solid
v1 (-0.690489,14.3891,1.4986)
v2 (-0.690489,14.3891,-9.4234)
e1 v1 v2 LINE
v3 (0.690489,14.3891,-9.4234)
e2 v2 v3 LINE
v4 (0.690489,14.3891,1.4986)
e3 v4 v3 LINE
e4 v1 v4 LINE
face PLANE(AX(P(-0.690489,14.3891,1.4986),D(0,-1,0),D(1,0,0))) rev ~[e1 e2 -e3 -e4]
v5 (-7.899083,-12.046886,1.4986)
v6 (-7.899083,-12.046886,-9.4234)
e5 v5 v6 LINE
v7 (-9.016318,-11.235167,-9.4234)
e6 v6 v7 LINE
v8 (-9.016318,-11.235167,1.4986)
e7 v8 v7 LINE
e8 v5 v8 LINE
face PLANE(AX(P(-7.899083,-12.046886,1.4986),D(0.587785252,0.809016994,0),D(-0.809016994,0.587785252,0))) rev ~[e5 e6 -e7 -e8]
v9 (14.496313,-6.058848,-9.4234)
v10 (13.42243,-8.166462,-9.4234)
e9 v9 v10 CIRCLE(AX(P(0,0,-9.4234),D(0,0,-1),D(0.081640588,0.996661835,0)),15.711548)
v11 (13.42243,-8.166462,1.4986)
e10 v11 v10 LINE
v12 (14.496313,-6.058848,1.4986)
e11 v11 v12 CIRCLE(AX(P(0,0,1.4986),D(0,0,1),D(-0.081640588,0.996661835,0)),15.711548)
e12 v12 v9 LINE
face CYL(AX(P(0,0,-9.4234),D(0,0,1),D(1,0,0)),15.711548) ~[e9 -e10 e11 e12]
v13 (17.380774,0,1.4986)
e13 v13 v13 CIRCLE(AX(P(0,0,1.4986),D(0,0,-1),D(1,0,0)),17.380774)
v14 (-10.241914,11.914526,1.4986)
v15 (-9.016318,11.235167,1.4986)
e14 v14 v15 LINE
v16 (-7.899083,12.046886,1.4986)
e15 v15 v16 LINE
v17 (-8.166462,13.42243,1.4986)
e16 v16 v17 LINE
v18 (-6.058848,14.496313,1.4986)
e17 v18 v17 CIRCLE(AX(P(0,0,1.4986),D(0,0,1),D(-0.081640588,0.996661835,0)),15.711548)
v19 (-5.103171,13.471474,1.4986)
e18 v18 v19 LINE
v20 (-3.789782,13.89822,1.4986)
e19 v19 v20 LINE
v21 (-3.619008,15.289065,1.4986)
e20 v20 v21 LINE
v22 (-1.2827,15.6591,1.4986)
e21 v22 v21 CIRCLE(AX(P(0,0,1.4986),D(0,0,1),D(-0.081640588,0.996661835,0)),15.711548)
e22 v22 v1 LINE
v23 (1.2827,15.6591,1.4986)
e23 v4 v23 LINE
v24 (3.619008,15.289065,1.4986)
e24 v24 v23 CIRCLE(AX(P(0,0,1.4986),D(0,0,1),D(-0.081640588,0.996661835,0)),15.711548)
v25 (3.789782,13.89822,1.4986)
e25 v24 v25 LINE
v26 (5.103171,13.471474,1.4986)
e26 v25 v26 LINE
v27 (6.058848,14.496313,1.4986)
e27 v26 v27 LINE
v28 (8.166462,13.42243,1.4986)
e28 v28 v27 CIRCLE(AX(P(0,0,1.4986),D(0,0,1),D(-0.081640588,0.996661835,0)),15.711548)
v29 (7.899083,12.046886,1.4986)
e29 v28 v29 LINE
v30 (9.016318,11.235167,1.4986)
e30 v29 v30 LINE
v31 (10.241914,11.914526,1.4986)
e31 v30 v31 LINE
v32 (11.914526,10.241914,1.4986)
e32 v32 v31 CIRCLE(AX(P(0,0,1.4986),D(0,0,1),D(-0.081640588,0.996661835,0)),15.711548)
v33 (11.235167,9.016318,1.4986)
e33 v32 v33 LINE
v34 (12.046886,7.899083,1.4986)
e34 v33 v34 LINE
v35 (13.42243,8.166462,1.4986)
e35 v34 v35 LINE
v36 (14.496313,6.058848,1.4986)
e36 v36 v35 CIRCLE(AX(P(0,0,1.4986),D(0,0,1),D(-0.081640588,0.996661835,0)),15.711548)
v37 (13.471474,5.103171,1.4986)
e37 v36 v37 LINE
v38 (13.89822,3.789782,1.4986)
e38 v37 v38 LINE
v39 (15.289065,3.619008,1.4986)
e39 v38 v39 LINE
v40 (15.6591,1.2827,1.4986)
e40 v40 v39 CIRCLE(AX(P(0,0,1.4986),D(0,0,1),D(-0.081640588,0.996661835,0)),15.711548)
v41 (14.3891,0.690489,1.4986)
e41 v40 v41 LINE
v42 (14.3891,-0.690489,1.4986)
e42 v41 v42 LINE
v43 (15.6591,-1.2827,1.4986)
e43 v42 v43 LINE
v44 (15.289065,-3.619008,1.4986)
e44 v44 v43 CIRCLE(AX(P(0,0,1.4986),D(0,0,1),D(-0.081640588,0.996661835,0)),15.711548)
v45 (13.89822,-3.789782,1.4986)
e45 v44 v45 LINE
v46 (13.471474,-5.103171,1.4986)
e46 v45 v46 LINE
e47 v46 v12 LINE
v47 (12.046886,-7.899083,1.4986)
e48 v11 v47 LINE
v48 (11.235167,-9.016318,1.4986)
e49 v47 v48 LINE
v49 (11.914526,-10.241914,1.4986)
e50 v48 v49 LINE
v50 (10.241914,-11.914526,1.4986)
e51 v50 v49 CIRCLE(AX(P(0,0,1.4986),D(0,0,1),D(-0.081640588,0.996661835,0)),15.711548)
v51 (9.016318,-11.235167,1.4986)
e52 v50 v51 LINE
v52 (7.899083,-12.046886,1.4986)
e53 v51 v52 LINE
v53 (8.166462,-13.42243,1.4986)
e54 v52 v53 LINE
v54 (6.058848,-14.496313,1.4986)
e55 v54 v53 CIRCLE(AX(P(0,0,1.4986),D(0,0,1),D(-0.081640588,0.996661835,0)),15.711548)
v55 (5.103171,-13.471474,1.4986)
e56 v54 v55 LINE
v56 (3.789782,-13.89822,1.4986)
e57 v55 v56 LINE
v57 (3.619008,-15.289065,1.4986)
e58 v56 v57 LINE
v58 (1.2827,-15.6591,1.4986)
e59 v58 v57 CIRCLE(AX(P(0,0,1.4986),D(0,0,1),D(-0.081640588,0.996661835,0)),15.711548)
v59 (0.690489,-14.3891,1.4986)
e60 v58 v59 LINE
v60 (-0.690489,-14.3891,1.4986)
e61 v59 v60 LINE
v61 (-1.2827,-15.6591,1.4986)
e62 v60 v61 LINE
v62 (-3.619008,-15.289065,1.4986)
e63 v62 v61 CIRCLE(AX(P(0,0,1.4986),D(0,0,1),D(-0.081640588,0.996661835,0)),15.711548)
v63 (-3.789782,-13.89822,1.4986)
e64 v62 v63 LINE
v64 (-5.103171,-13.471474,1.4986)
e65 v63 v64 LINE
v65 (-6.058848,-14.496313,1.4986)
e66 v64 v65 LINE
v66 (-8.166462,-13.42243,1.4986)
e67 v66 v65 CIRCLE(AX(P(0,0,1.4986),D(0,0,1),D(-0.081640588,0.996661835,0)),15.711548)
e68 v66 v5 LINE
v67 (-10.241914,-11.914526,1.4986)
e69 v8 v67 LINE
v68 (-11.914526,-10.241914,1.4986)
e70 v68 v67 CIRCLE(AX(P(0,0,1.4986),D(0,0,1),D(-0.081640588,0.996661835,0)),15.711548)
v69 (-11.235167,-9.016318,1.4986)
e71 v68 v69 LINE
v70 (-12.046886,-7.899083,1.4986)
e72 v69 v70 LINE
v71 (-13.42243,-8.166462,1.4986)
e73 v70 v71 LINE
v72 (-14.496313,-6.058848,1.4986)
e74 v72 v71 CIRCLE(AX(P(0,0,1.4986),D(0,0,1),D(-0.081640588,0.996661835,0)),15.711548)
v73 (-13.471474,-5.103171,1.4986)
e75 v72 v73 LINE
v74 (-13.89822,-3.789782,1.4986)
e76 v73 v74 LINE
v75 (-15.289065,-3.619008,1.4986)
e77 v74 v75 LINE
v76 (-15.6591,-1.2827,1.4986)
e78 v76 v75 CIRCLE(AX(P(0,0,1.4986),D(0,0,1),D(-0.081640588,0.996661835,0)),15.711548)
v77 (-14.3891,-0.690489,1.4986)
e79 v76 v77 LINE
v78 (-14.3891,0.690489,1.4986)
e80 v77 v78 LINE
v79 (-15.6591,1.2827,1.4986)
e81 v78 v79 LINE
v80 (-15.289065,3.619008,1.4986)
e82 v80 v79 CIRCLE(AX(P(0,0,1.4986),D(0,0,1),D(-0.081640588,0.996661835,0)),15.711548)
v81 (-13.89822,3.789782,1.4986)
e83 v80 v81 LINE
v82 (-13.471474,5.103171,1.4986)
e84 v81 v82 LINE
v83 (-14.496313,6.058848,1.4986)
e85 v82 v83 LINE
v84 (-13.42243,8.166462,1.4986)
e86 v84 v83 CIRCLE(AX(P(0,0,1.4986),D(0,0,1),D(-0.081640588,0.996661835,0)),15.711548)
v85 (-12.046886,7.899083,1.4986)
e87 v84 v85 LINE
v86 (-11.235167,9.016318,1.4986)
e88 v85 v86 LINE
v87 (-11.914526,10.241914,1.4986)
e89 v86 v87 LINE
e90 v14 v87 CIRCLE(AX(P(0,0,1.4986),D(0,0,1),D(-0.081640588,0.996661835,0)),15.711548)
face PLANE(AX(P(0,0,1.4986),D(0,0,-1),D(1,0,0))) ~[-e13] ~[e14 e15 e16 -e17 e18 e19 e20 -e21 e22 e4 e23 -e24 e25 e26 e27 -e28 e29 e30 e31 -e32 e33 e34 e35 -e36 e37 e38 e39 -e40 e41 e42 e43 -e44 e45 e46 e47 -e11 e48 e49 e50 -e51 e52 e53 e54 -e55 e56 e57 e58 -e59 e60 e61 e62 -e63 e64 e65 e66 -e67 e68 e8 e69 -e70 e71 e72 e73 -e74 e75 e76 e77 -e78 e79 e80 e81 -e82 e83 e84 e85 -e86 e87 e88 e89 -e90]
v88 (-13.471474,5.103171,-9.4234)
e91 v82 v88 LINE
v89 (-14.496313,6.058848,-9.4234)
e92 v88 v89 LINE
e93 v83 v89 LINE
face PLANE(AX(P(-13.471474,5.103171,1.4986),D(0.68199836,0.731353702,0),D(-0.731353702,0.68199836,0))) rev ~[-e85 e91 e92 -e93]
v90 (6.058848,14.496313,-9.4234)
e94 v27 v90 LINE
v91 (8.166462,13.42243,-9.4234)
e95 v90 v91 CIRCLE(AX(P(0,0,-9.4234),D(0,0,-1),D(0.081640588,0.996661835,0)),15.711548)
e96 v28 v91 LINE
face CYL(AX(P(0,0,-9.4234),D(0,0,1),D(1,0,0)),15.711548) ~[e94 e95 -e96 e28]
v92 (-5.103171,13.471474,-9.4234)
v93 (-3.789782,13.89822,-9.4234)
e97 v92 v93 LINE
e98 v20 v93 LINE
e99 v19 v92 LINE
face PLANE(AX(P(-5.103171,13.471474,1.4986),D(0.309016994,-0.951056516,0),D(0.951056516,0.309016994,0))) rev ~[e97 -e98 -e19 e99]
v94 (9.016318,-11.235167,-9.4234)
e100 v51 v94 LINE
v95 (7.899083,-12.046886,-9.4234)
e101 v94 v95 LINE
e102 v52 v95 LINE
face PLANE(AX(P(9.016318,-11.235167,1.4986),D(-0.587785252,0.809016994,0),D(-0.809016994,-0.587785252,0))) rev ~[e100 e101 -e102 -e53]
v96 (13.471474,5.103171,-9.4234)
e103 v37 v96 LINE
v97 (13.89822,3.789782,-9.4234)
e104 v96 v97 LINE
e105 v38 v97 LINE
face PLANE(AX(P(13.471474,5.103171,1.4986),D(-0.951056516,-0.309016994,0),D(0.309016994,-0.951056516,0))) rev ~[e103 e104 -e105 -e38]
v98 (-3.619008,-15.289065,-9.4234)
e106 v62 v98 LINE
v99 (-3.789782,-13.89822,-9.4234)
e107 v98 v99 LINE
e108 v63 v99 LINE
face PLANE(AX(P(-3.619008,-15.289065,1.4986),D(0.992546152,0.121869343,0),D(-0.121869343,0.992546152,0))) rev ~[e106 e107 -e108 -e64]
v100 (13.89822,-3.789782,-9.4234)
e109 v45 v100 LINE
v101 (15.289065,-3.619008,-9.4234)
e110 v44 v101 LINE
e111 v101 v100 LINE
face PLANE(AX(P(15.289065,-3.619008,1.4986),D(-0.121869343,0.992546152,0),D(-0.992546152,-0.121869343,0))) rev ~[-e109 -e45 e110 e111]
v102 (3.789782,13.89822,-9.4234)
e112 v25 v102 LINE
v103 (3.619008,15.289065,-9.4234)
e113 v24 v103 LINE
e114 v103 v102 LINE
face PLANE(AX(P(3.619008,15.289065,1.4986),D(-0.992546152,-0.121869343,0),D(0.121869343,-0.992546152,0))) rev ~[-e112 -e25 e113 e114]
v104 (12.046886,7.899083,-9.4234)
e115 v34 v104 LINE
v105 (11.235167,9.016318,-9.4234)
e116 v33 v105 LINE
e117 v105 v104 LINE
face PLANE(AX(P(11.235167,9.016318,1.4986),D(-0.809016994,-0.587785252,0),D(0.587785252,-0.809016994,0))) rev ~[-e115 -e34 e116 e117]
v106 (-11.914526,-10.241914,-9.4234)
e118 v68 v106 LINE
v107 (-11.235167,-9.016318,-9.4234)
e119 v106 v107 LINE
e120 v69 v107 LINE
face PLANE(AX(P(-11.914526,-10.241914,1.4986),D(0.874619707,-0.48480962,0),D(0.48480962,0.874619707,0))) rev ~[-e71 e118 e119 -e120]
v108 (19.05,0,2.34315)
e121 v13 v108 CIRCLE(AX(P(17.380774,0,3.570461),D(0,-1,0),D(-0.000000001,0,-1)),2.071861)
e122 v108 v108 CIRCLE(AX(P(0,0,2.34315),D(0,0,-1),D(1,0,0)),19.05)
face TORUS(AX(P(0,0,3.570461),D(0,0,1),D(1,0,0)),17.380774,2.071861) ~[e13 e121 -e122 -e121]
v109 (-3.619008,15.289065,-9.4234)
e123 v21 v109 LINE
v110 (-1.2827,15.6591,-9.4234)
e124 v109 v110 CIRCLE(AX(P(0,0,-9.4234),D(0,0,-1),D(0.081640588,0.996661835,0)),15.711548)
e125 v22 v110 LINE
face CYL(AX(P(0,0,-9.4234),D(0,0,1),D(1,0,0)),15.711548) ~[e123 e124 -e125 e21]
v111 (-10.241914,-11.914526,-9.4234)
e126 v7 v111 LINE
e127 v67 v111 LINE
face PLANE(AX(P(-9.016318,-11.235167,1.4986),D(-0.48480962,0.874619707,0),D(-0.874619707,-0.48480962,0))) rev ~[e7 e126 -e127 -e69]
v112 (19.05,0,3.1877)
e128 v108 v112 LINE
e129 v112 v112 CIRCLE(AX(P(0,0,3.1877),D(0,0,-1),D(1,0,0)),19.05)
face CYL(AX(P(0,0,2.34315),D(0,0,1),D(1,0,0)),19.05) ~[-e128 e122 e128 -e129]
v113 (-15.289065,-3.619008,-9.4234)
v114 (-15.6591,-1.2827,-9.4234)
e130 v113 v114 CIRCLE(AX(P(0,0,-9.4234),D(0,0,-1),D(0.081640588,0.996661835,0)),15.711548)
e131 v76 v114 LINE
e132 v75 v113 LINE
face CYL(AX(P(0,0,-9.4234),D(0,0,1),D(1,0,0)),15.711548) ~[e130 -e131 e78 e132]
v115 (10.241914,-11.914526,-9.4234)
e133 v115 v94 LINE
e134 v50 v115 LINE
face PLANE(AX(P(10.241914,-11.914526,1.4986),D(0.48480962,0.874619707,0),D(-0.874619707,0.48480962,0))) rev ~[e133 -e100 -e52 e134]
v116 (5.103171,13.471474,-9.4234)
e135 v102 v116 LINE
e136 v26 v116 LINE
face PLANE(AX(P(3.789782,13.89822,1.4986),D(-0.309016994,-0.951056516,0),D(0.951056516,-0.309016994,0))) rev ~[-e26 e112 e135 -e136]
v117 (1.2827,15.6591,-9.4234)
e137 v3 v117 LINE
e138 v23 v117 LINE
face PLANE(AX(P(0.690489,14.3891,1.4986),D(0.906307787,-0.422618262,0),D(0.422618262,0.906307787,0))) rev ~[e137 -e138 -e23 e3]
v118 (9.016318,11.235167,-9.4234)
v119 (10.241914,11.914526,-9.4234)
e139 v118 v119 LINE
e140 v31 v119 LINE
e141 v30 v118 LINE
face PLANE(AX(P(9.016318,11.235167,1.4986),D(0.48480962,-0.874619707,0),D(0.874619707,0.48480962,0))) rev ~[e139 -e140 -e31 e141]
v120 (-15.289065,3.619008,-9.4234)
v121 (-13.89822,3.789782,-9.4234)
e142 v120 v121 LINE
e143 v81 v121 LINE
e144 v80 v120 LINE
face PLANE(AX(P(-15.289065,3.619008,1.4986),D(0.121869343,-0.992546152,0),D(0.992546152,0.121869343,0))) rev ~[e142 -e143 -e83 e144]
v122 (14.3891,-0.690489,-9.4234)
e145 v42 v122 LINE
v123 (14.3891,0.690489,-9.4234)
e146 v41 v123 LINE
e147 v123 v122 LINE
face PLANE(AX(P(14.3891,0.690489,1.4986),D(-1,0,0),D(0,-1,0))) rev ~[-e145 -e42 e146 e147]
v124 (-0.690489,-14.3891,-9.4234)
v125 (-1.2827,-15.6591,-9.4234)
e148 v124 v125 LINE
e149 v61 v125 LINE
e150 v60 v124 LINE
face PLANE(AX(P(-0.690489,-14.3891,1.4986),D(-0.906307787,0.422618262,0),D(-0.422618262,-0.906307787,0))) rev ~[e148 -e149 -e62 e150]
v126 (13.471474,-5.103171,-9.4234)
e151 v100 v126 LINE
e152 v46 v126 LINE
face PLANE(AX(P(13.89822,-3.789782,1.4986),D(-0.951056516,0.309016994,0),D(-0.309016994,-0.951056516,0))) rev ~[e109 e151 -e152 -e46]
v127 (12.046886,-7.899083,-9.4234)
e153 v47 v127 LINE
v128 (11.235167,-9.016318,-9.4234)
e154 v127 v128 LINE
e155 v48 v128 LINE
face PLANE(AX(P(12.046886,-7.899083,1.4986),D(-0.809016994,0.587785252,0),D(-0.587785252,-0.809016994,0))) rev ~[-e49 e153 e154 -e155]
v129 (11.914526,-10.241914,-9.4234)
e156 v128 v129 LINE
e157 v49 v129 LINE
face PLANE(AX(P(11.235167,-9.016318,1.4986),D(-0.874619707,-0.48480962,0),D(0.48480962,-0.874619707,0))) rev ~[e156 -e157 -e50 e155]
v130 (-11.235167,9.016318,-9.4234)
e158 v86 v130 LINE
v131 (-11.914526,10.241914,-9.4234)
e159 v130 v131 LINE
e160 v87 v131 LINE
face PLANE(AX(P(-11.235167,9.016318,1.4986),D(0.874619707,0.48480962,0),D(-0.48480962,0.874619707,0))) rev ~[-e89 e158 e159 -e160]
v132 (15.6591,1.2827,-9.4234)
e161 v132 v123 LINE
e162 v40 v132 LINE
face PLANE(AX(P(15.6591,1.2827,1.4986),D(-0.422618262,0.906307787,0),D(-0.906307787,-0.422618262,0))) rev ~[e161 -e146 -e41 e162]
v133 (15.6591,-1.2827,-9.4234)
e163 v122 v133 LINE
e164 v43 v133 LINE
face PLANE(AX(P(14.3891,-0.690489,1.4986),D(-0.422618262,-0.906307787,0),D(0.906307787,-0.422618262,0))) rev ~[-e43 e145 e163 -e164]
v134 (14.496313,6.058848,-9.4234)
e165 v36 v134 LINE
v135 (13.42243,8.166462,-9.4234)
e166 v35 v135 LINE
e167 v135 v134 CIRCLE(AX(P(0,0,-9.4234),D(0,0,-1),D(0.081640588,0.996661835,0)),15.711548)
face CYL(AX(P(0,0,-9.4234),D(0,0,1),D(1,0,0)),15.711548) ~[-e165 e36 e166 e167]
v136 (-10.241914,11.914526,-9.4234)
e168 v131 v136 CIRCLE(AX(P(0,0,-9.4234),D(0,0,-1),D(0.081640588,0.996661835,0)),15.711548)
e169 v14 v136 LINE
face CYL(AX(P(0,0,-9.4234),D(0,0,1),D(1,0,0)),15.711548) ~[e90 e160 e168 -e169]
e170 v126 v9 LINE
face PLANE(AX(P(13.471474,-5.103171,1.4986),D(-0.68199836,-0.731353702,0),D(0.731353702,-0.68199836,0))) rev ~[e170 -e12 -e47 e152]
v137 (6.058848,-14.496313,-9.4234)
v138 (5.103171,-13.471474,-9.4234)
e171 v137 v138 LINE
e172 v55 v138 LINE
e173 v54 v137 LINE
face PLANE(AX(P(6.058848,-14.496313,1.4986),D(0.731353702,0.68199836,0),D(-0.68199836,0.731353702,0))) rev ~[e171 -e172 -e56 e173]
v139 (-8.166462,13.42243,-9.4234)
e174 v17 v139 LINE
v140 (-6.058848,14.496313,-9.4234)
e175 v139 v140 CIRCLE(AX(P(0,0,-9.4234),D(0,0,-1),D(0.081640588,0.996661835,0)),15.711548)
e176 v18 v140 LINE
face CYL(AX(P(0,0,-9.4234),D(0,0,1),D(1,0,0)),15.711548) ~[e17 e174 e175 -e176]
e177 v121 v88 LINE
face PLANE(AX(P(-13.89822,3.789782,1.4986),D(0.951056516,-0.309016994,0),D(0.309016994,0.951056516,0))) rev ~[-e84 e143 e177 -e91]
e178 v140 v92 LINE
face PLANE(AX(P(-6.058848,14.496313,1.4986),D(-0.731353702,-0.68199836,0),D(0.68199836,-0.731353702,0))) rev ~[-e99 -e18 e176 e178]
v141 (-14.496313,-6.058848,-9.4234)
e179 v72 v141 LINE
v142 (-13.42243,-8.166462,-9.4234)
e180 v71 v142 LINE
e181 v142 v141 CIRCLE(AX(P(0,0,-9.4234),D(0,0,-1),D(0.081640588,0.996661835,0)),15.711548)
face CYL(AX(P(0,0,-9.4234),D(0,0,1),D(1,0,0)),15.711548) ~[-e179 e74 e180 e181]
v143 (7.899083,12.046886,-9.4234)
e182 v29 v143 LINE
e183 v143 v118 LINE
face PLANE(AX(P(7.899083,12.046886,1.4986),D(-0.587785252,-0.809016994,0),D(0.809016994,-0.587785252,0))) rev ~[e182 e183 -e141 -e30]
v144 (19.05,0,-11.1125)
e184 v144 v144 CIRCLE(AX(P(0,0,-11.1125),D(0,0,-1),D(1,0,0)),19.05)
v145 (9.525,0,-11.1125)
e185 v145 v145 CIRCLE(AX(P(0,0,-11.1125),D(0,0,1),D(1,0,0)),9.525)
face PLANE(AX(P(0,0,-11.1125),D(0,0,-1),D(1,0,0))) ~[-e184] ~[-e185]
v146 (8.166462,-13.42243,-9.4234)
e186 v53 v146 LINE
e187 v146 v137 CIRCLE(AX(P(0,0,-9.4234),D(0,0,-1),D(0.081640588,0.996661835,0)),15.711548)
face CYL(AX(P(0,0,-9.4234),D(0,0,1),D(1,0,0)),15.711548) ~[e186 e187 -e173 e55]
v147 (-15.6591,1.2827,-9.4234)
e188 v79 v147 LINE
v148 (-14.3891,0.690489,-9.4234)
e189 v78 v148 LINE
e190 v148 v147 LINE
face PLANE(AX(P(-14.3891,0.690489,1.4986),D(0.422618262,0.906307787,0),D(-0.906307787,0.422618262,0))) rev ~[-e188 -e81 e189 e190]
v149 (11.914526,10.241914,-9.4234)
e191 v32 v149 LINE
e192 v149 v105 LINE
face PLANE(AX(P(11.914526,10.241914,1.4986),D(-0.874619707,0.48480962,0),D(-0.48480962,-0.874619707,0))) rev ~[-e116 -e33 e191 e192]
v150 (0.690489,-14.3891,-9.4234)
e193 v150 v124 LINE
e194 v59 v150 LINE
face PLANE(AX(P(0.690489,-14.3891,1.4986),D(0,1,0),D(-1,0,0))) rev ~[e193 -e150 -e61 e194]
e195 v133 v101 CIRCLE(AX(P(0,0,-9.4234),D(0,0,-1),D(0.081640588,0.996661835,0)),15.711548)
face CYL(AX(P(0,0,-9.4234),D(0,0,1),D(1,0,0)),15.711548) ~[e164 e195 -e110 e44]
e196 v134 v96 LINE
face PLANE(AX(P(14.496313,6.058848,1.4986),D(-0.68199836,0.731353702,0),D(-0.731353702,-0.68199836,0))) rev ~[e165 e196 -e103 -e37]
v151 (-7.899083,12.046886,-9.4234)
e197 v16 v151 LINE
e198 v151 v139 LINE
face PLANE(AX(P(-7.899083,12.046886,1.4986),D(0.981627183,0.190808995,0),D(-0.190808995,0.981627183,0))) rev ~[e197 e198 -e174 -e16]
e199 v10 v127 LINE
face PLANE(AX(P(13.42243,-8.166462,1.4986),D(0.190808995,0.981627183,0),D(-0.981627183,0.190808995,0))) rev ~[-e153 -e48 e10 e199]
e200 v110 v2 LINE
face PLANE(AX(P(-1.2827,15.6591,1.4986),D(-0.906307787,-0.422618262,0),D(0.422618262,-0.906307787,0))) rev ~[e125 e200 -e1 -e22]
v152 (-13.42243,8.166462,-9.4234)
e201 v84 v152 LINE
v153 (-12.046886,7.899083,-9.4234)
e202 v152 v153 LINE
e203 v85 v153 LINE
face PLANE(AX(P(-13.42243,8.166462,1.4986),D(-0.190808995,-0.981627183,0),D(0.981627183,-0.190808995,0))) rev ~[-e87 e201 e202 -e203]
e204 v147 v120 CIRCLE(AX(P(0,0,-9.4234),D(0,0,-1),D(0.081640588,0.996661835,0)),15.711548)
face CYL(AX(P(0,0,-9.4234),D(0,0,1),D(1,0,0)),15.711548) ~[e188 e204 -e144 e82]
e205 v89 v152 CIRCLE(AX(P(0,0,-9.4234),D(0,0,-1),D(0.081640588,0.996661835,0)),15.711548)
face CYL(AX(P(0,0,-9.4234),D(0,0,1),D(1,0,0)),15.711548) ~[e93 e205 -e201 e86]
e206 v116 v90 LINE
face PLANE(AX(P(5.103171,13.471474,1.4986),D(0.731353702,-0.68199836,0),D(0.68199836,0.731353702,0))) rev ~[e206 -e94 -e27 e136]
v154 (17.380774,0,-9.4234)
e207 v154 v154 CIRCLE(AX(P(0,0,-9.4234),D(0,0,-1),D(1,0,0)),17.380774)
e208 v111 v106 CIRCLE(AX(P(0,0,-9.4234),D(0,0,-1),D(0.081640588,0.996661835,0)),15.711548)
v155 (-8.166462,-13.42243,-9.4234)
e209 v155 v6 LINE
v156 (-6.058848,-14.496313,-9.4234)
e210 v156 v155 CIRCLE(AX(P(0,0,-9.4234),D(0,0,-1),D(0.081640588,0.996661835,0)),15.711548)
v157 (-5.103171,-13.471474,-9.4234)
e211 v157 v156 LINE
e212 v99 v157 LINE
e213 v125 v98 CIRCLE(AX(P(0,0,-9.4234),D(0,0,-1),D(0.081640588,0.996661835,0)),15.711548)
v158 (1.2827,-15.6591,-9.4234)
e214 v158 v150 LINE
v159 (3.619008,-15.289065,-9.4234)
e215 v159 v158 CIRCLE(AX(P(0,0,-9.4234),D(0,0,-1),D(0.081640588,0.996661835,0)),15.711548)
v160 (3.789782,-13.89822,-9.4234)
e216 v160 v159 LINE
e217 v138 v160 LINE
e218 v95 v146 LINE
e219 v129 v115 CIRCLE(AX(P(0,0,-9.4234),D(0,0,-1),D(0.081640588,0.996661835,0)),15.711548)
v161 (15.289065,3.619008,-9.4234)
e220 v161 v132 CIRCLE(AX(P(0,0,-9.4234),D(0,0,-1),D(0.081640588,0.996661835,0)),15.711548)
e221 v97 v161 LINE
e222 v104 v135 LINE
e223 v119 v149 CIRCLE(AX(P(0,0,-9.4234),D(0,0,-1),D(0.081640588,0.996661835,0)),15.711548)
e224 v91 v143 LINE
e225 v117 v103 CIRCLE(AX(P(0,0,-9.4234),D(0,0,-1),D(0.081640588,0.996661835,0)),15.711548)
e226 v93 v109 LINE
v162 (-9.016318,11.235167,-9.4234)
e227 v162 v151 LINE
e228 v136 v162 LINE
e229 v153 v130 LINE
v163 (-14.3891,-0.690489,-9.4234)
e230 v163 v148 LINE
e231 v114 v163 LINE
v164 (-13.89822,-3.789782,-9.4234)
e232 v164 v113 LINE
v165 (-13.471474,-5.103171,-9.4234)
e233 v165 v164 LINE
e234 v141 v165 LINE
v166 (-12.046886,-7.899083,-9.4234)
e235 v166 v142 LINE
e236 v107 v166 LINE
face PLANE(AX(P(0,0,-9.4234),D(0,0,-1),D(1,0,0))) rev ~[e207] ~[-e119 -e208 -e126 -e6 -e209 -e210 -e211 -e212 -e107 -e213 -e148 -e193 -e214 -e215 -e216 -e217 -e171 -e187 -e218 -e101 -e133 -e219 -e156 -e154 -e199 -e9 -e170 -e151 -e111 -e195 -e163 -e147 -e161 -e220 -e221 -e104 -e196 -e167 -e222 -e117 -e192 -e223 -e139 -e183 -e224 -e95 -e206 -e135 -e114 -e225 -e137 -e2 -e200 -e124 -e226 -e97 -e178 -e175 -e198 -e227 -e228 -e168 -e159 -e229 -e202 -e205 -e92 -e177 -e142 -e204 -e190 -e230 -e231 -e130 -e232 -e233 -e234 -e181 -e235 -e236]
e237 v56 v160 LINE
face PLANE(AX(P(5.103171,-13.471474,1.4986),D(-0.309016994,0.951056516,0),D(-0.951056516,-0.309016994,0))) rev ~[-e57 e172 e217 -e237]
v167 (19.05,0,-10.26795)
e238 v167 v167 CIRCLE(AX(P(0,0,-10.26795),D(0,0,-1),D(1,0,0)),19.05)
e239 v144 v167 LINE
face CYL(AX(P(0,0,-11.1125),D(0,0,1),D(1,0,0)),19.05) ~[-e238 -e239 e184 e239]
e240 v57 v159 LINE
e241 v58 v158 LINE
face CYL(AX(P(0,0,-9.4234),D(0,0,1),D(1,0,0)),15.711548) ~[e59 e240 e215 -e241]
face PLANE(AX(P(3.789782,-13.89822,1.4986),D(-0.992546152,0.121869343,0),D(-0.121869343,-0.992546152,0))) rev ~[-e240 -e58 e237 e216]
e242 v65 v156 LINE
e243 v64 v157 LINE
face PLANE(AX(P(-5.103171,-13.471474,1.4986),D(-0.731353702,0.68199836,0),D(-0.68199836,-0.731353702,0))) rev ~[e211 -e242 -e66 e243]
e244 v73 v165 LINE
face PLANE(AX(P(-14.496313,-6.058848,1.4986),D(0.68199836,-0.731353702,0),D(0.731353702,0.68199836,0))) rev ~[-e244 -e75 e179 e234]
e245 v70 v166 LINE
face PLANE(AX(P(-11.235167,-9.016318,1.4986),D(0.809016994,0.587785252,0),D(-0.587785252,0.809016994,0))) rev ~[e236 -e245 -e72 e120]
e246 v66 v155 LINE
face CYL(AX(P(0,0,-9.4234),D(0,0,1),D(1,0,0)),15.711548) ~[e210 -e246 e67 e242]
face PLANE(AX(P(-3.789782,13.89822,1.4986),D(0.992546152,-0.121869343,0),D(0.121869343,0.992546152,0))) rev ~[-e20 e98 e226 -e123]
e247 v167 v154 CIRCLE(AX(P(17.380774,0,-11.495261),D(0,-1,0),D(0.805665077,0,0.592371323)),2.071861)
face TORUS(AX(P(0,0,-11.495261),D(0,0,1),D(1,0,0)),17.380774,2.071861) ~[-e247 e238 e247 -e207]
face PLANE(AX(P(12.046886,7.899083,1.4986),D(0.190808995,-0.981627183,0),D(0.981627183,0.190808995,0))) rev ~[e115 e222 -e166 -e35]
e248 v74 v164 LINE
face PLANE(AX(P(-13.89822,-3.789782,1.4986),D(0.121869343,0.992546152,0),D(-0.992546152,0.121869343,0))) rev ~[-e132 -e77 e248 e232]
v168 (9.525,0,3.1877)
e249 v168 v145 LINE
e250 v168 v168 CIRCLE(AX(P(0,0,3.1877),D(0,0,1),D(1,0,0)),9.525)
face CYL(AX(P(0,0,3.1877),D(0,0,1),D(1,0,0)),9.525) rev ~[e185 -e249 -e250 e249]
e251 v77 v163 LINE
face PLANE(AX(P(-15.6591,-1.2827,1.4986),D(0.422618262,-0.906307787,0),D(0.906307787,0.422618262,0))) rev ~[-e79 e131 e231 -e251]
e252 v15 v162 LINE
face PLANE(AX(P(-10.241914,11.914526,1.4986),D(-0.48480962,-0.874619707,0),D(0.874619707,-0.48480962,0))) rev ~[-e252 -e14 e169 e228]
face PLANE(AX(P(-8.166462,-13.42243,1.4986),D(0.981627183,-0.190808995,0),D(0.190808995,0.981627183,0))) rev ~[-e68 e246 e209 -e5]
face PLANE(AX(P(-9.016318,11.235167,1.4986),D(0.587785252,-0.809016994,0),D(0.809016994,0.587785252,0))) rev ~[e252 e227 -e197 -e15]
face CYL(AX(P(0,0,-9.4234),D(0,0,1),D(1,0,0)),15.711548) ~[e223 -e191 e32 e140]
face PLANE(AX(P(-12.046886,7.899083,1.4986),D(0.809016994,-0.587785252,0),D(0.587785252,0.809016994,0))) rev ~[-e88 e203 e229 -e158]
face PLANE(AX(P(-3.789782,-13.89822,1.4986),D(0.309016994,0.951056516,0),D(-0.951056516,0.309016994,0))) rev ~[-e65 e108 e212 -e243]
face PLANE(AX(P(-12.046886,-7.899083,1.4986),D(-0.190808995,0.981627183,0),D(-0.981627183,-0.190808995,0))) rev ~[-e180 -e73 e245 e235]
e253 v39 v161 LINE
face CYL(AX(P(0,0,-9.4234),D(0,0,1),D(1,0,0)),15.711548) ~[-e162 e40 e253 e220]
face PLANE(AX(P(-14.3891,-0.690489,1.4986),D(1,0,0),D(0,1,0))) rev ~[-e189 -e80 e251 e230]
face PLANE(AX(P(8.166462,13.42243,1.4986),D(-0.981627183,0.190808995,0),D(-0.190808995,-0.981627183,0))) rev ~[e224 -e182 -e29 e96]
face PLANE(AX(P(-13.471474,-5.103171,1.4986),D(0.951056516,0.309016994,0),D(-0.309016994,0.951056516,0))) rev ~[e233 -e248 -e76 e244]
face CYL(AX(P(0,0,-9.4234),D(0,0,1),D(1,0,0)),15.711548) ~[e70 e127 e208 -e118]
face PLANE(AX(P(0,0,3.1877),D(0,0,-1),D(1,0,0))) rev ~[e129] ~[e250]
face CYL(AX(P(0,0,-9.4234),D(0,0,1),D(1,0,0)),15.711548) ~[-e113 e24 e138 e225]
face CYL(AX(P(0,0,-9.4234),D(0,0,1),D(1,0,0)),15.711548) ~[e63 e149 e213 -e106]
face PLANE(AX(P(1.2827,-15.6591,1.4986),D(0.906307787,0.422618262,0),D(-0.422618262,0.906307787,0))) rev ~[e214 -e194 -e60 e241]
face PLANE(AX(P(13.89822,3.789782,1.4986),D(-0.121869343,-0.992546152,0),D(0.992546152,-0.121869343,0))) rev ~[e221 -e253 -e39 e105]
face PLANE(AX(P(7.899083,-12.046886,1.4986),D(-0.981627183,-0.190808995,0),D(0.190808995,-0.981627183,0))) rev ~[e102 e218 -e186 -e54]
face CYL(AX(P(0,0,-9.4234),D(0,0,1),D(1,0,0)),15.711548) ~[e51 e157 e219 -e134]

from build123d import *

# Parameters (mm, degrees)
CUT_EXTRUDE1_START = 1.4986
CUT_EXTRUDE1_DEPTH = 10.922
CIRPATTERN1_COUNT  = 20
SKETCH4_R          = 9.525
CUT_EXTRUDE2_DEPTH = 31.500831465


with BuildPart() as part:
    # Sketch2 → Revolve1 (revolve)
    with BuildSketch(Plane(origin=(0, 0, 0), x_dir=(0, 0, -1), z_dir=(1, 0, 0)), mode=Mode.PRIVATE) as revolve1_sk:
        with BuildLine():
            Line((-3.1877, 3.175), (11.1125, 3.175))
            Line((11.1125, 3.175), (11.1125, 19.05))
            Line((11.1125, 19.05), (10.26795, 19.05))
            ThreePointArc((10.26795, 19.05), (9.646555263, 18.316132165), (9.4234, 17.380773865))
            Line((9.4234, 17.380773865), (9.4234, 15.711547731))
            Line((9.4234, 15.711547731), (-1.4986, 15.711547731))
            Line((-1.4986, 15.711547731), (-1.4986, 17.380773865))
            ThreePointArc((-1.4986, 17.380773865), (-1.721755263, 18.316132165), (-2.34315, 19.05))
            Line((-2.34315, 19.05), (-3.1877, 19.05))
            Line((-3.1877, 19.05), (-3.1877, 11.8999))
            Line((-3.1877, 11.8999), (-3.1877, 3.175))
        make_face()
    revolve(revolve1_sk.sketch.rotate(Axis((0, 0, 11.1125), (0, 0, -1)), 90), axis=Axis((0, 0, 11.1125), (0, 0, -1)))

    # Sketch3 → Cut-Extrude1 (cut)
    with BuildSketch(Plane.XY.offset(CUT_EXTRUDE1_START)):
        with BuildLine():
            Line((-0.690489274, 14.3891), (0.690489274, 14.3891))
            Line((0.690489274, 14.3891), (1.2827, 15.6591))
            ThreePointArc((1.2827, 15.6591), (0, 15.711547731), (-1.2827, 15.6591))
            Line((-1.2827, 15.6591), (-0.690489274, 14.3891))
        make_face()
    cut_extrude1 = extrude(amount=-CUT_EXTRUDE1_DEPTH, mode=Mode.SUBTRACT)

    # CirPattern1: Cut-Extrude1 ×20 about axis
    cirpattern1_axis = Axis((0, 0, 0), (0, 0, 1))
    for i in range(1, CIRPATTERN1_COUNT):
        add(cut_extrude1.rotate(cirpattern1_axis, i * 360 / CIRPATTERN1_COUNT), mode=Mode.SUBTRACT)

    # Sketch4 → Cut-Extrude2 (cut, through all)
    with BuildSketch(Plane.XY.offset(3.1877)):
        Circle(SKETCH4_R)
    extrude(amount=-CUT_EXTRUDE2_DEPTH, mode=Mode.SUBTRACT)


solid = part.part
